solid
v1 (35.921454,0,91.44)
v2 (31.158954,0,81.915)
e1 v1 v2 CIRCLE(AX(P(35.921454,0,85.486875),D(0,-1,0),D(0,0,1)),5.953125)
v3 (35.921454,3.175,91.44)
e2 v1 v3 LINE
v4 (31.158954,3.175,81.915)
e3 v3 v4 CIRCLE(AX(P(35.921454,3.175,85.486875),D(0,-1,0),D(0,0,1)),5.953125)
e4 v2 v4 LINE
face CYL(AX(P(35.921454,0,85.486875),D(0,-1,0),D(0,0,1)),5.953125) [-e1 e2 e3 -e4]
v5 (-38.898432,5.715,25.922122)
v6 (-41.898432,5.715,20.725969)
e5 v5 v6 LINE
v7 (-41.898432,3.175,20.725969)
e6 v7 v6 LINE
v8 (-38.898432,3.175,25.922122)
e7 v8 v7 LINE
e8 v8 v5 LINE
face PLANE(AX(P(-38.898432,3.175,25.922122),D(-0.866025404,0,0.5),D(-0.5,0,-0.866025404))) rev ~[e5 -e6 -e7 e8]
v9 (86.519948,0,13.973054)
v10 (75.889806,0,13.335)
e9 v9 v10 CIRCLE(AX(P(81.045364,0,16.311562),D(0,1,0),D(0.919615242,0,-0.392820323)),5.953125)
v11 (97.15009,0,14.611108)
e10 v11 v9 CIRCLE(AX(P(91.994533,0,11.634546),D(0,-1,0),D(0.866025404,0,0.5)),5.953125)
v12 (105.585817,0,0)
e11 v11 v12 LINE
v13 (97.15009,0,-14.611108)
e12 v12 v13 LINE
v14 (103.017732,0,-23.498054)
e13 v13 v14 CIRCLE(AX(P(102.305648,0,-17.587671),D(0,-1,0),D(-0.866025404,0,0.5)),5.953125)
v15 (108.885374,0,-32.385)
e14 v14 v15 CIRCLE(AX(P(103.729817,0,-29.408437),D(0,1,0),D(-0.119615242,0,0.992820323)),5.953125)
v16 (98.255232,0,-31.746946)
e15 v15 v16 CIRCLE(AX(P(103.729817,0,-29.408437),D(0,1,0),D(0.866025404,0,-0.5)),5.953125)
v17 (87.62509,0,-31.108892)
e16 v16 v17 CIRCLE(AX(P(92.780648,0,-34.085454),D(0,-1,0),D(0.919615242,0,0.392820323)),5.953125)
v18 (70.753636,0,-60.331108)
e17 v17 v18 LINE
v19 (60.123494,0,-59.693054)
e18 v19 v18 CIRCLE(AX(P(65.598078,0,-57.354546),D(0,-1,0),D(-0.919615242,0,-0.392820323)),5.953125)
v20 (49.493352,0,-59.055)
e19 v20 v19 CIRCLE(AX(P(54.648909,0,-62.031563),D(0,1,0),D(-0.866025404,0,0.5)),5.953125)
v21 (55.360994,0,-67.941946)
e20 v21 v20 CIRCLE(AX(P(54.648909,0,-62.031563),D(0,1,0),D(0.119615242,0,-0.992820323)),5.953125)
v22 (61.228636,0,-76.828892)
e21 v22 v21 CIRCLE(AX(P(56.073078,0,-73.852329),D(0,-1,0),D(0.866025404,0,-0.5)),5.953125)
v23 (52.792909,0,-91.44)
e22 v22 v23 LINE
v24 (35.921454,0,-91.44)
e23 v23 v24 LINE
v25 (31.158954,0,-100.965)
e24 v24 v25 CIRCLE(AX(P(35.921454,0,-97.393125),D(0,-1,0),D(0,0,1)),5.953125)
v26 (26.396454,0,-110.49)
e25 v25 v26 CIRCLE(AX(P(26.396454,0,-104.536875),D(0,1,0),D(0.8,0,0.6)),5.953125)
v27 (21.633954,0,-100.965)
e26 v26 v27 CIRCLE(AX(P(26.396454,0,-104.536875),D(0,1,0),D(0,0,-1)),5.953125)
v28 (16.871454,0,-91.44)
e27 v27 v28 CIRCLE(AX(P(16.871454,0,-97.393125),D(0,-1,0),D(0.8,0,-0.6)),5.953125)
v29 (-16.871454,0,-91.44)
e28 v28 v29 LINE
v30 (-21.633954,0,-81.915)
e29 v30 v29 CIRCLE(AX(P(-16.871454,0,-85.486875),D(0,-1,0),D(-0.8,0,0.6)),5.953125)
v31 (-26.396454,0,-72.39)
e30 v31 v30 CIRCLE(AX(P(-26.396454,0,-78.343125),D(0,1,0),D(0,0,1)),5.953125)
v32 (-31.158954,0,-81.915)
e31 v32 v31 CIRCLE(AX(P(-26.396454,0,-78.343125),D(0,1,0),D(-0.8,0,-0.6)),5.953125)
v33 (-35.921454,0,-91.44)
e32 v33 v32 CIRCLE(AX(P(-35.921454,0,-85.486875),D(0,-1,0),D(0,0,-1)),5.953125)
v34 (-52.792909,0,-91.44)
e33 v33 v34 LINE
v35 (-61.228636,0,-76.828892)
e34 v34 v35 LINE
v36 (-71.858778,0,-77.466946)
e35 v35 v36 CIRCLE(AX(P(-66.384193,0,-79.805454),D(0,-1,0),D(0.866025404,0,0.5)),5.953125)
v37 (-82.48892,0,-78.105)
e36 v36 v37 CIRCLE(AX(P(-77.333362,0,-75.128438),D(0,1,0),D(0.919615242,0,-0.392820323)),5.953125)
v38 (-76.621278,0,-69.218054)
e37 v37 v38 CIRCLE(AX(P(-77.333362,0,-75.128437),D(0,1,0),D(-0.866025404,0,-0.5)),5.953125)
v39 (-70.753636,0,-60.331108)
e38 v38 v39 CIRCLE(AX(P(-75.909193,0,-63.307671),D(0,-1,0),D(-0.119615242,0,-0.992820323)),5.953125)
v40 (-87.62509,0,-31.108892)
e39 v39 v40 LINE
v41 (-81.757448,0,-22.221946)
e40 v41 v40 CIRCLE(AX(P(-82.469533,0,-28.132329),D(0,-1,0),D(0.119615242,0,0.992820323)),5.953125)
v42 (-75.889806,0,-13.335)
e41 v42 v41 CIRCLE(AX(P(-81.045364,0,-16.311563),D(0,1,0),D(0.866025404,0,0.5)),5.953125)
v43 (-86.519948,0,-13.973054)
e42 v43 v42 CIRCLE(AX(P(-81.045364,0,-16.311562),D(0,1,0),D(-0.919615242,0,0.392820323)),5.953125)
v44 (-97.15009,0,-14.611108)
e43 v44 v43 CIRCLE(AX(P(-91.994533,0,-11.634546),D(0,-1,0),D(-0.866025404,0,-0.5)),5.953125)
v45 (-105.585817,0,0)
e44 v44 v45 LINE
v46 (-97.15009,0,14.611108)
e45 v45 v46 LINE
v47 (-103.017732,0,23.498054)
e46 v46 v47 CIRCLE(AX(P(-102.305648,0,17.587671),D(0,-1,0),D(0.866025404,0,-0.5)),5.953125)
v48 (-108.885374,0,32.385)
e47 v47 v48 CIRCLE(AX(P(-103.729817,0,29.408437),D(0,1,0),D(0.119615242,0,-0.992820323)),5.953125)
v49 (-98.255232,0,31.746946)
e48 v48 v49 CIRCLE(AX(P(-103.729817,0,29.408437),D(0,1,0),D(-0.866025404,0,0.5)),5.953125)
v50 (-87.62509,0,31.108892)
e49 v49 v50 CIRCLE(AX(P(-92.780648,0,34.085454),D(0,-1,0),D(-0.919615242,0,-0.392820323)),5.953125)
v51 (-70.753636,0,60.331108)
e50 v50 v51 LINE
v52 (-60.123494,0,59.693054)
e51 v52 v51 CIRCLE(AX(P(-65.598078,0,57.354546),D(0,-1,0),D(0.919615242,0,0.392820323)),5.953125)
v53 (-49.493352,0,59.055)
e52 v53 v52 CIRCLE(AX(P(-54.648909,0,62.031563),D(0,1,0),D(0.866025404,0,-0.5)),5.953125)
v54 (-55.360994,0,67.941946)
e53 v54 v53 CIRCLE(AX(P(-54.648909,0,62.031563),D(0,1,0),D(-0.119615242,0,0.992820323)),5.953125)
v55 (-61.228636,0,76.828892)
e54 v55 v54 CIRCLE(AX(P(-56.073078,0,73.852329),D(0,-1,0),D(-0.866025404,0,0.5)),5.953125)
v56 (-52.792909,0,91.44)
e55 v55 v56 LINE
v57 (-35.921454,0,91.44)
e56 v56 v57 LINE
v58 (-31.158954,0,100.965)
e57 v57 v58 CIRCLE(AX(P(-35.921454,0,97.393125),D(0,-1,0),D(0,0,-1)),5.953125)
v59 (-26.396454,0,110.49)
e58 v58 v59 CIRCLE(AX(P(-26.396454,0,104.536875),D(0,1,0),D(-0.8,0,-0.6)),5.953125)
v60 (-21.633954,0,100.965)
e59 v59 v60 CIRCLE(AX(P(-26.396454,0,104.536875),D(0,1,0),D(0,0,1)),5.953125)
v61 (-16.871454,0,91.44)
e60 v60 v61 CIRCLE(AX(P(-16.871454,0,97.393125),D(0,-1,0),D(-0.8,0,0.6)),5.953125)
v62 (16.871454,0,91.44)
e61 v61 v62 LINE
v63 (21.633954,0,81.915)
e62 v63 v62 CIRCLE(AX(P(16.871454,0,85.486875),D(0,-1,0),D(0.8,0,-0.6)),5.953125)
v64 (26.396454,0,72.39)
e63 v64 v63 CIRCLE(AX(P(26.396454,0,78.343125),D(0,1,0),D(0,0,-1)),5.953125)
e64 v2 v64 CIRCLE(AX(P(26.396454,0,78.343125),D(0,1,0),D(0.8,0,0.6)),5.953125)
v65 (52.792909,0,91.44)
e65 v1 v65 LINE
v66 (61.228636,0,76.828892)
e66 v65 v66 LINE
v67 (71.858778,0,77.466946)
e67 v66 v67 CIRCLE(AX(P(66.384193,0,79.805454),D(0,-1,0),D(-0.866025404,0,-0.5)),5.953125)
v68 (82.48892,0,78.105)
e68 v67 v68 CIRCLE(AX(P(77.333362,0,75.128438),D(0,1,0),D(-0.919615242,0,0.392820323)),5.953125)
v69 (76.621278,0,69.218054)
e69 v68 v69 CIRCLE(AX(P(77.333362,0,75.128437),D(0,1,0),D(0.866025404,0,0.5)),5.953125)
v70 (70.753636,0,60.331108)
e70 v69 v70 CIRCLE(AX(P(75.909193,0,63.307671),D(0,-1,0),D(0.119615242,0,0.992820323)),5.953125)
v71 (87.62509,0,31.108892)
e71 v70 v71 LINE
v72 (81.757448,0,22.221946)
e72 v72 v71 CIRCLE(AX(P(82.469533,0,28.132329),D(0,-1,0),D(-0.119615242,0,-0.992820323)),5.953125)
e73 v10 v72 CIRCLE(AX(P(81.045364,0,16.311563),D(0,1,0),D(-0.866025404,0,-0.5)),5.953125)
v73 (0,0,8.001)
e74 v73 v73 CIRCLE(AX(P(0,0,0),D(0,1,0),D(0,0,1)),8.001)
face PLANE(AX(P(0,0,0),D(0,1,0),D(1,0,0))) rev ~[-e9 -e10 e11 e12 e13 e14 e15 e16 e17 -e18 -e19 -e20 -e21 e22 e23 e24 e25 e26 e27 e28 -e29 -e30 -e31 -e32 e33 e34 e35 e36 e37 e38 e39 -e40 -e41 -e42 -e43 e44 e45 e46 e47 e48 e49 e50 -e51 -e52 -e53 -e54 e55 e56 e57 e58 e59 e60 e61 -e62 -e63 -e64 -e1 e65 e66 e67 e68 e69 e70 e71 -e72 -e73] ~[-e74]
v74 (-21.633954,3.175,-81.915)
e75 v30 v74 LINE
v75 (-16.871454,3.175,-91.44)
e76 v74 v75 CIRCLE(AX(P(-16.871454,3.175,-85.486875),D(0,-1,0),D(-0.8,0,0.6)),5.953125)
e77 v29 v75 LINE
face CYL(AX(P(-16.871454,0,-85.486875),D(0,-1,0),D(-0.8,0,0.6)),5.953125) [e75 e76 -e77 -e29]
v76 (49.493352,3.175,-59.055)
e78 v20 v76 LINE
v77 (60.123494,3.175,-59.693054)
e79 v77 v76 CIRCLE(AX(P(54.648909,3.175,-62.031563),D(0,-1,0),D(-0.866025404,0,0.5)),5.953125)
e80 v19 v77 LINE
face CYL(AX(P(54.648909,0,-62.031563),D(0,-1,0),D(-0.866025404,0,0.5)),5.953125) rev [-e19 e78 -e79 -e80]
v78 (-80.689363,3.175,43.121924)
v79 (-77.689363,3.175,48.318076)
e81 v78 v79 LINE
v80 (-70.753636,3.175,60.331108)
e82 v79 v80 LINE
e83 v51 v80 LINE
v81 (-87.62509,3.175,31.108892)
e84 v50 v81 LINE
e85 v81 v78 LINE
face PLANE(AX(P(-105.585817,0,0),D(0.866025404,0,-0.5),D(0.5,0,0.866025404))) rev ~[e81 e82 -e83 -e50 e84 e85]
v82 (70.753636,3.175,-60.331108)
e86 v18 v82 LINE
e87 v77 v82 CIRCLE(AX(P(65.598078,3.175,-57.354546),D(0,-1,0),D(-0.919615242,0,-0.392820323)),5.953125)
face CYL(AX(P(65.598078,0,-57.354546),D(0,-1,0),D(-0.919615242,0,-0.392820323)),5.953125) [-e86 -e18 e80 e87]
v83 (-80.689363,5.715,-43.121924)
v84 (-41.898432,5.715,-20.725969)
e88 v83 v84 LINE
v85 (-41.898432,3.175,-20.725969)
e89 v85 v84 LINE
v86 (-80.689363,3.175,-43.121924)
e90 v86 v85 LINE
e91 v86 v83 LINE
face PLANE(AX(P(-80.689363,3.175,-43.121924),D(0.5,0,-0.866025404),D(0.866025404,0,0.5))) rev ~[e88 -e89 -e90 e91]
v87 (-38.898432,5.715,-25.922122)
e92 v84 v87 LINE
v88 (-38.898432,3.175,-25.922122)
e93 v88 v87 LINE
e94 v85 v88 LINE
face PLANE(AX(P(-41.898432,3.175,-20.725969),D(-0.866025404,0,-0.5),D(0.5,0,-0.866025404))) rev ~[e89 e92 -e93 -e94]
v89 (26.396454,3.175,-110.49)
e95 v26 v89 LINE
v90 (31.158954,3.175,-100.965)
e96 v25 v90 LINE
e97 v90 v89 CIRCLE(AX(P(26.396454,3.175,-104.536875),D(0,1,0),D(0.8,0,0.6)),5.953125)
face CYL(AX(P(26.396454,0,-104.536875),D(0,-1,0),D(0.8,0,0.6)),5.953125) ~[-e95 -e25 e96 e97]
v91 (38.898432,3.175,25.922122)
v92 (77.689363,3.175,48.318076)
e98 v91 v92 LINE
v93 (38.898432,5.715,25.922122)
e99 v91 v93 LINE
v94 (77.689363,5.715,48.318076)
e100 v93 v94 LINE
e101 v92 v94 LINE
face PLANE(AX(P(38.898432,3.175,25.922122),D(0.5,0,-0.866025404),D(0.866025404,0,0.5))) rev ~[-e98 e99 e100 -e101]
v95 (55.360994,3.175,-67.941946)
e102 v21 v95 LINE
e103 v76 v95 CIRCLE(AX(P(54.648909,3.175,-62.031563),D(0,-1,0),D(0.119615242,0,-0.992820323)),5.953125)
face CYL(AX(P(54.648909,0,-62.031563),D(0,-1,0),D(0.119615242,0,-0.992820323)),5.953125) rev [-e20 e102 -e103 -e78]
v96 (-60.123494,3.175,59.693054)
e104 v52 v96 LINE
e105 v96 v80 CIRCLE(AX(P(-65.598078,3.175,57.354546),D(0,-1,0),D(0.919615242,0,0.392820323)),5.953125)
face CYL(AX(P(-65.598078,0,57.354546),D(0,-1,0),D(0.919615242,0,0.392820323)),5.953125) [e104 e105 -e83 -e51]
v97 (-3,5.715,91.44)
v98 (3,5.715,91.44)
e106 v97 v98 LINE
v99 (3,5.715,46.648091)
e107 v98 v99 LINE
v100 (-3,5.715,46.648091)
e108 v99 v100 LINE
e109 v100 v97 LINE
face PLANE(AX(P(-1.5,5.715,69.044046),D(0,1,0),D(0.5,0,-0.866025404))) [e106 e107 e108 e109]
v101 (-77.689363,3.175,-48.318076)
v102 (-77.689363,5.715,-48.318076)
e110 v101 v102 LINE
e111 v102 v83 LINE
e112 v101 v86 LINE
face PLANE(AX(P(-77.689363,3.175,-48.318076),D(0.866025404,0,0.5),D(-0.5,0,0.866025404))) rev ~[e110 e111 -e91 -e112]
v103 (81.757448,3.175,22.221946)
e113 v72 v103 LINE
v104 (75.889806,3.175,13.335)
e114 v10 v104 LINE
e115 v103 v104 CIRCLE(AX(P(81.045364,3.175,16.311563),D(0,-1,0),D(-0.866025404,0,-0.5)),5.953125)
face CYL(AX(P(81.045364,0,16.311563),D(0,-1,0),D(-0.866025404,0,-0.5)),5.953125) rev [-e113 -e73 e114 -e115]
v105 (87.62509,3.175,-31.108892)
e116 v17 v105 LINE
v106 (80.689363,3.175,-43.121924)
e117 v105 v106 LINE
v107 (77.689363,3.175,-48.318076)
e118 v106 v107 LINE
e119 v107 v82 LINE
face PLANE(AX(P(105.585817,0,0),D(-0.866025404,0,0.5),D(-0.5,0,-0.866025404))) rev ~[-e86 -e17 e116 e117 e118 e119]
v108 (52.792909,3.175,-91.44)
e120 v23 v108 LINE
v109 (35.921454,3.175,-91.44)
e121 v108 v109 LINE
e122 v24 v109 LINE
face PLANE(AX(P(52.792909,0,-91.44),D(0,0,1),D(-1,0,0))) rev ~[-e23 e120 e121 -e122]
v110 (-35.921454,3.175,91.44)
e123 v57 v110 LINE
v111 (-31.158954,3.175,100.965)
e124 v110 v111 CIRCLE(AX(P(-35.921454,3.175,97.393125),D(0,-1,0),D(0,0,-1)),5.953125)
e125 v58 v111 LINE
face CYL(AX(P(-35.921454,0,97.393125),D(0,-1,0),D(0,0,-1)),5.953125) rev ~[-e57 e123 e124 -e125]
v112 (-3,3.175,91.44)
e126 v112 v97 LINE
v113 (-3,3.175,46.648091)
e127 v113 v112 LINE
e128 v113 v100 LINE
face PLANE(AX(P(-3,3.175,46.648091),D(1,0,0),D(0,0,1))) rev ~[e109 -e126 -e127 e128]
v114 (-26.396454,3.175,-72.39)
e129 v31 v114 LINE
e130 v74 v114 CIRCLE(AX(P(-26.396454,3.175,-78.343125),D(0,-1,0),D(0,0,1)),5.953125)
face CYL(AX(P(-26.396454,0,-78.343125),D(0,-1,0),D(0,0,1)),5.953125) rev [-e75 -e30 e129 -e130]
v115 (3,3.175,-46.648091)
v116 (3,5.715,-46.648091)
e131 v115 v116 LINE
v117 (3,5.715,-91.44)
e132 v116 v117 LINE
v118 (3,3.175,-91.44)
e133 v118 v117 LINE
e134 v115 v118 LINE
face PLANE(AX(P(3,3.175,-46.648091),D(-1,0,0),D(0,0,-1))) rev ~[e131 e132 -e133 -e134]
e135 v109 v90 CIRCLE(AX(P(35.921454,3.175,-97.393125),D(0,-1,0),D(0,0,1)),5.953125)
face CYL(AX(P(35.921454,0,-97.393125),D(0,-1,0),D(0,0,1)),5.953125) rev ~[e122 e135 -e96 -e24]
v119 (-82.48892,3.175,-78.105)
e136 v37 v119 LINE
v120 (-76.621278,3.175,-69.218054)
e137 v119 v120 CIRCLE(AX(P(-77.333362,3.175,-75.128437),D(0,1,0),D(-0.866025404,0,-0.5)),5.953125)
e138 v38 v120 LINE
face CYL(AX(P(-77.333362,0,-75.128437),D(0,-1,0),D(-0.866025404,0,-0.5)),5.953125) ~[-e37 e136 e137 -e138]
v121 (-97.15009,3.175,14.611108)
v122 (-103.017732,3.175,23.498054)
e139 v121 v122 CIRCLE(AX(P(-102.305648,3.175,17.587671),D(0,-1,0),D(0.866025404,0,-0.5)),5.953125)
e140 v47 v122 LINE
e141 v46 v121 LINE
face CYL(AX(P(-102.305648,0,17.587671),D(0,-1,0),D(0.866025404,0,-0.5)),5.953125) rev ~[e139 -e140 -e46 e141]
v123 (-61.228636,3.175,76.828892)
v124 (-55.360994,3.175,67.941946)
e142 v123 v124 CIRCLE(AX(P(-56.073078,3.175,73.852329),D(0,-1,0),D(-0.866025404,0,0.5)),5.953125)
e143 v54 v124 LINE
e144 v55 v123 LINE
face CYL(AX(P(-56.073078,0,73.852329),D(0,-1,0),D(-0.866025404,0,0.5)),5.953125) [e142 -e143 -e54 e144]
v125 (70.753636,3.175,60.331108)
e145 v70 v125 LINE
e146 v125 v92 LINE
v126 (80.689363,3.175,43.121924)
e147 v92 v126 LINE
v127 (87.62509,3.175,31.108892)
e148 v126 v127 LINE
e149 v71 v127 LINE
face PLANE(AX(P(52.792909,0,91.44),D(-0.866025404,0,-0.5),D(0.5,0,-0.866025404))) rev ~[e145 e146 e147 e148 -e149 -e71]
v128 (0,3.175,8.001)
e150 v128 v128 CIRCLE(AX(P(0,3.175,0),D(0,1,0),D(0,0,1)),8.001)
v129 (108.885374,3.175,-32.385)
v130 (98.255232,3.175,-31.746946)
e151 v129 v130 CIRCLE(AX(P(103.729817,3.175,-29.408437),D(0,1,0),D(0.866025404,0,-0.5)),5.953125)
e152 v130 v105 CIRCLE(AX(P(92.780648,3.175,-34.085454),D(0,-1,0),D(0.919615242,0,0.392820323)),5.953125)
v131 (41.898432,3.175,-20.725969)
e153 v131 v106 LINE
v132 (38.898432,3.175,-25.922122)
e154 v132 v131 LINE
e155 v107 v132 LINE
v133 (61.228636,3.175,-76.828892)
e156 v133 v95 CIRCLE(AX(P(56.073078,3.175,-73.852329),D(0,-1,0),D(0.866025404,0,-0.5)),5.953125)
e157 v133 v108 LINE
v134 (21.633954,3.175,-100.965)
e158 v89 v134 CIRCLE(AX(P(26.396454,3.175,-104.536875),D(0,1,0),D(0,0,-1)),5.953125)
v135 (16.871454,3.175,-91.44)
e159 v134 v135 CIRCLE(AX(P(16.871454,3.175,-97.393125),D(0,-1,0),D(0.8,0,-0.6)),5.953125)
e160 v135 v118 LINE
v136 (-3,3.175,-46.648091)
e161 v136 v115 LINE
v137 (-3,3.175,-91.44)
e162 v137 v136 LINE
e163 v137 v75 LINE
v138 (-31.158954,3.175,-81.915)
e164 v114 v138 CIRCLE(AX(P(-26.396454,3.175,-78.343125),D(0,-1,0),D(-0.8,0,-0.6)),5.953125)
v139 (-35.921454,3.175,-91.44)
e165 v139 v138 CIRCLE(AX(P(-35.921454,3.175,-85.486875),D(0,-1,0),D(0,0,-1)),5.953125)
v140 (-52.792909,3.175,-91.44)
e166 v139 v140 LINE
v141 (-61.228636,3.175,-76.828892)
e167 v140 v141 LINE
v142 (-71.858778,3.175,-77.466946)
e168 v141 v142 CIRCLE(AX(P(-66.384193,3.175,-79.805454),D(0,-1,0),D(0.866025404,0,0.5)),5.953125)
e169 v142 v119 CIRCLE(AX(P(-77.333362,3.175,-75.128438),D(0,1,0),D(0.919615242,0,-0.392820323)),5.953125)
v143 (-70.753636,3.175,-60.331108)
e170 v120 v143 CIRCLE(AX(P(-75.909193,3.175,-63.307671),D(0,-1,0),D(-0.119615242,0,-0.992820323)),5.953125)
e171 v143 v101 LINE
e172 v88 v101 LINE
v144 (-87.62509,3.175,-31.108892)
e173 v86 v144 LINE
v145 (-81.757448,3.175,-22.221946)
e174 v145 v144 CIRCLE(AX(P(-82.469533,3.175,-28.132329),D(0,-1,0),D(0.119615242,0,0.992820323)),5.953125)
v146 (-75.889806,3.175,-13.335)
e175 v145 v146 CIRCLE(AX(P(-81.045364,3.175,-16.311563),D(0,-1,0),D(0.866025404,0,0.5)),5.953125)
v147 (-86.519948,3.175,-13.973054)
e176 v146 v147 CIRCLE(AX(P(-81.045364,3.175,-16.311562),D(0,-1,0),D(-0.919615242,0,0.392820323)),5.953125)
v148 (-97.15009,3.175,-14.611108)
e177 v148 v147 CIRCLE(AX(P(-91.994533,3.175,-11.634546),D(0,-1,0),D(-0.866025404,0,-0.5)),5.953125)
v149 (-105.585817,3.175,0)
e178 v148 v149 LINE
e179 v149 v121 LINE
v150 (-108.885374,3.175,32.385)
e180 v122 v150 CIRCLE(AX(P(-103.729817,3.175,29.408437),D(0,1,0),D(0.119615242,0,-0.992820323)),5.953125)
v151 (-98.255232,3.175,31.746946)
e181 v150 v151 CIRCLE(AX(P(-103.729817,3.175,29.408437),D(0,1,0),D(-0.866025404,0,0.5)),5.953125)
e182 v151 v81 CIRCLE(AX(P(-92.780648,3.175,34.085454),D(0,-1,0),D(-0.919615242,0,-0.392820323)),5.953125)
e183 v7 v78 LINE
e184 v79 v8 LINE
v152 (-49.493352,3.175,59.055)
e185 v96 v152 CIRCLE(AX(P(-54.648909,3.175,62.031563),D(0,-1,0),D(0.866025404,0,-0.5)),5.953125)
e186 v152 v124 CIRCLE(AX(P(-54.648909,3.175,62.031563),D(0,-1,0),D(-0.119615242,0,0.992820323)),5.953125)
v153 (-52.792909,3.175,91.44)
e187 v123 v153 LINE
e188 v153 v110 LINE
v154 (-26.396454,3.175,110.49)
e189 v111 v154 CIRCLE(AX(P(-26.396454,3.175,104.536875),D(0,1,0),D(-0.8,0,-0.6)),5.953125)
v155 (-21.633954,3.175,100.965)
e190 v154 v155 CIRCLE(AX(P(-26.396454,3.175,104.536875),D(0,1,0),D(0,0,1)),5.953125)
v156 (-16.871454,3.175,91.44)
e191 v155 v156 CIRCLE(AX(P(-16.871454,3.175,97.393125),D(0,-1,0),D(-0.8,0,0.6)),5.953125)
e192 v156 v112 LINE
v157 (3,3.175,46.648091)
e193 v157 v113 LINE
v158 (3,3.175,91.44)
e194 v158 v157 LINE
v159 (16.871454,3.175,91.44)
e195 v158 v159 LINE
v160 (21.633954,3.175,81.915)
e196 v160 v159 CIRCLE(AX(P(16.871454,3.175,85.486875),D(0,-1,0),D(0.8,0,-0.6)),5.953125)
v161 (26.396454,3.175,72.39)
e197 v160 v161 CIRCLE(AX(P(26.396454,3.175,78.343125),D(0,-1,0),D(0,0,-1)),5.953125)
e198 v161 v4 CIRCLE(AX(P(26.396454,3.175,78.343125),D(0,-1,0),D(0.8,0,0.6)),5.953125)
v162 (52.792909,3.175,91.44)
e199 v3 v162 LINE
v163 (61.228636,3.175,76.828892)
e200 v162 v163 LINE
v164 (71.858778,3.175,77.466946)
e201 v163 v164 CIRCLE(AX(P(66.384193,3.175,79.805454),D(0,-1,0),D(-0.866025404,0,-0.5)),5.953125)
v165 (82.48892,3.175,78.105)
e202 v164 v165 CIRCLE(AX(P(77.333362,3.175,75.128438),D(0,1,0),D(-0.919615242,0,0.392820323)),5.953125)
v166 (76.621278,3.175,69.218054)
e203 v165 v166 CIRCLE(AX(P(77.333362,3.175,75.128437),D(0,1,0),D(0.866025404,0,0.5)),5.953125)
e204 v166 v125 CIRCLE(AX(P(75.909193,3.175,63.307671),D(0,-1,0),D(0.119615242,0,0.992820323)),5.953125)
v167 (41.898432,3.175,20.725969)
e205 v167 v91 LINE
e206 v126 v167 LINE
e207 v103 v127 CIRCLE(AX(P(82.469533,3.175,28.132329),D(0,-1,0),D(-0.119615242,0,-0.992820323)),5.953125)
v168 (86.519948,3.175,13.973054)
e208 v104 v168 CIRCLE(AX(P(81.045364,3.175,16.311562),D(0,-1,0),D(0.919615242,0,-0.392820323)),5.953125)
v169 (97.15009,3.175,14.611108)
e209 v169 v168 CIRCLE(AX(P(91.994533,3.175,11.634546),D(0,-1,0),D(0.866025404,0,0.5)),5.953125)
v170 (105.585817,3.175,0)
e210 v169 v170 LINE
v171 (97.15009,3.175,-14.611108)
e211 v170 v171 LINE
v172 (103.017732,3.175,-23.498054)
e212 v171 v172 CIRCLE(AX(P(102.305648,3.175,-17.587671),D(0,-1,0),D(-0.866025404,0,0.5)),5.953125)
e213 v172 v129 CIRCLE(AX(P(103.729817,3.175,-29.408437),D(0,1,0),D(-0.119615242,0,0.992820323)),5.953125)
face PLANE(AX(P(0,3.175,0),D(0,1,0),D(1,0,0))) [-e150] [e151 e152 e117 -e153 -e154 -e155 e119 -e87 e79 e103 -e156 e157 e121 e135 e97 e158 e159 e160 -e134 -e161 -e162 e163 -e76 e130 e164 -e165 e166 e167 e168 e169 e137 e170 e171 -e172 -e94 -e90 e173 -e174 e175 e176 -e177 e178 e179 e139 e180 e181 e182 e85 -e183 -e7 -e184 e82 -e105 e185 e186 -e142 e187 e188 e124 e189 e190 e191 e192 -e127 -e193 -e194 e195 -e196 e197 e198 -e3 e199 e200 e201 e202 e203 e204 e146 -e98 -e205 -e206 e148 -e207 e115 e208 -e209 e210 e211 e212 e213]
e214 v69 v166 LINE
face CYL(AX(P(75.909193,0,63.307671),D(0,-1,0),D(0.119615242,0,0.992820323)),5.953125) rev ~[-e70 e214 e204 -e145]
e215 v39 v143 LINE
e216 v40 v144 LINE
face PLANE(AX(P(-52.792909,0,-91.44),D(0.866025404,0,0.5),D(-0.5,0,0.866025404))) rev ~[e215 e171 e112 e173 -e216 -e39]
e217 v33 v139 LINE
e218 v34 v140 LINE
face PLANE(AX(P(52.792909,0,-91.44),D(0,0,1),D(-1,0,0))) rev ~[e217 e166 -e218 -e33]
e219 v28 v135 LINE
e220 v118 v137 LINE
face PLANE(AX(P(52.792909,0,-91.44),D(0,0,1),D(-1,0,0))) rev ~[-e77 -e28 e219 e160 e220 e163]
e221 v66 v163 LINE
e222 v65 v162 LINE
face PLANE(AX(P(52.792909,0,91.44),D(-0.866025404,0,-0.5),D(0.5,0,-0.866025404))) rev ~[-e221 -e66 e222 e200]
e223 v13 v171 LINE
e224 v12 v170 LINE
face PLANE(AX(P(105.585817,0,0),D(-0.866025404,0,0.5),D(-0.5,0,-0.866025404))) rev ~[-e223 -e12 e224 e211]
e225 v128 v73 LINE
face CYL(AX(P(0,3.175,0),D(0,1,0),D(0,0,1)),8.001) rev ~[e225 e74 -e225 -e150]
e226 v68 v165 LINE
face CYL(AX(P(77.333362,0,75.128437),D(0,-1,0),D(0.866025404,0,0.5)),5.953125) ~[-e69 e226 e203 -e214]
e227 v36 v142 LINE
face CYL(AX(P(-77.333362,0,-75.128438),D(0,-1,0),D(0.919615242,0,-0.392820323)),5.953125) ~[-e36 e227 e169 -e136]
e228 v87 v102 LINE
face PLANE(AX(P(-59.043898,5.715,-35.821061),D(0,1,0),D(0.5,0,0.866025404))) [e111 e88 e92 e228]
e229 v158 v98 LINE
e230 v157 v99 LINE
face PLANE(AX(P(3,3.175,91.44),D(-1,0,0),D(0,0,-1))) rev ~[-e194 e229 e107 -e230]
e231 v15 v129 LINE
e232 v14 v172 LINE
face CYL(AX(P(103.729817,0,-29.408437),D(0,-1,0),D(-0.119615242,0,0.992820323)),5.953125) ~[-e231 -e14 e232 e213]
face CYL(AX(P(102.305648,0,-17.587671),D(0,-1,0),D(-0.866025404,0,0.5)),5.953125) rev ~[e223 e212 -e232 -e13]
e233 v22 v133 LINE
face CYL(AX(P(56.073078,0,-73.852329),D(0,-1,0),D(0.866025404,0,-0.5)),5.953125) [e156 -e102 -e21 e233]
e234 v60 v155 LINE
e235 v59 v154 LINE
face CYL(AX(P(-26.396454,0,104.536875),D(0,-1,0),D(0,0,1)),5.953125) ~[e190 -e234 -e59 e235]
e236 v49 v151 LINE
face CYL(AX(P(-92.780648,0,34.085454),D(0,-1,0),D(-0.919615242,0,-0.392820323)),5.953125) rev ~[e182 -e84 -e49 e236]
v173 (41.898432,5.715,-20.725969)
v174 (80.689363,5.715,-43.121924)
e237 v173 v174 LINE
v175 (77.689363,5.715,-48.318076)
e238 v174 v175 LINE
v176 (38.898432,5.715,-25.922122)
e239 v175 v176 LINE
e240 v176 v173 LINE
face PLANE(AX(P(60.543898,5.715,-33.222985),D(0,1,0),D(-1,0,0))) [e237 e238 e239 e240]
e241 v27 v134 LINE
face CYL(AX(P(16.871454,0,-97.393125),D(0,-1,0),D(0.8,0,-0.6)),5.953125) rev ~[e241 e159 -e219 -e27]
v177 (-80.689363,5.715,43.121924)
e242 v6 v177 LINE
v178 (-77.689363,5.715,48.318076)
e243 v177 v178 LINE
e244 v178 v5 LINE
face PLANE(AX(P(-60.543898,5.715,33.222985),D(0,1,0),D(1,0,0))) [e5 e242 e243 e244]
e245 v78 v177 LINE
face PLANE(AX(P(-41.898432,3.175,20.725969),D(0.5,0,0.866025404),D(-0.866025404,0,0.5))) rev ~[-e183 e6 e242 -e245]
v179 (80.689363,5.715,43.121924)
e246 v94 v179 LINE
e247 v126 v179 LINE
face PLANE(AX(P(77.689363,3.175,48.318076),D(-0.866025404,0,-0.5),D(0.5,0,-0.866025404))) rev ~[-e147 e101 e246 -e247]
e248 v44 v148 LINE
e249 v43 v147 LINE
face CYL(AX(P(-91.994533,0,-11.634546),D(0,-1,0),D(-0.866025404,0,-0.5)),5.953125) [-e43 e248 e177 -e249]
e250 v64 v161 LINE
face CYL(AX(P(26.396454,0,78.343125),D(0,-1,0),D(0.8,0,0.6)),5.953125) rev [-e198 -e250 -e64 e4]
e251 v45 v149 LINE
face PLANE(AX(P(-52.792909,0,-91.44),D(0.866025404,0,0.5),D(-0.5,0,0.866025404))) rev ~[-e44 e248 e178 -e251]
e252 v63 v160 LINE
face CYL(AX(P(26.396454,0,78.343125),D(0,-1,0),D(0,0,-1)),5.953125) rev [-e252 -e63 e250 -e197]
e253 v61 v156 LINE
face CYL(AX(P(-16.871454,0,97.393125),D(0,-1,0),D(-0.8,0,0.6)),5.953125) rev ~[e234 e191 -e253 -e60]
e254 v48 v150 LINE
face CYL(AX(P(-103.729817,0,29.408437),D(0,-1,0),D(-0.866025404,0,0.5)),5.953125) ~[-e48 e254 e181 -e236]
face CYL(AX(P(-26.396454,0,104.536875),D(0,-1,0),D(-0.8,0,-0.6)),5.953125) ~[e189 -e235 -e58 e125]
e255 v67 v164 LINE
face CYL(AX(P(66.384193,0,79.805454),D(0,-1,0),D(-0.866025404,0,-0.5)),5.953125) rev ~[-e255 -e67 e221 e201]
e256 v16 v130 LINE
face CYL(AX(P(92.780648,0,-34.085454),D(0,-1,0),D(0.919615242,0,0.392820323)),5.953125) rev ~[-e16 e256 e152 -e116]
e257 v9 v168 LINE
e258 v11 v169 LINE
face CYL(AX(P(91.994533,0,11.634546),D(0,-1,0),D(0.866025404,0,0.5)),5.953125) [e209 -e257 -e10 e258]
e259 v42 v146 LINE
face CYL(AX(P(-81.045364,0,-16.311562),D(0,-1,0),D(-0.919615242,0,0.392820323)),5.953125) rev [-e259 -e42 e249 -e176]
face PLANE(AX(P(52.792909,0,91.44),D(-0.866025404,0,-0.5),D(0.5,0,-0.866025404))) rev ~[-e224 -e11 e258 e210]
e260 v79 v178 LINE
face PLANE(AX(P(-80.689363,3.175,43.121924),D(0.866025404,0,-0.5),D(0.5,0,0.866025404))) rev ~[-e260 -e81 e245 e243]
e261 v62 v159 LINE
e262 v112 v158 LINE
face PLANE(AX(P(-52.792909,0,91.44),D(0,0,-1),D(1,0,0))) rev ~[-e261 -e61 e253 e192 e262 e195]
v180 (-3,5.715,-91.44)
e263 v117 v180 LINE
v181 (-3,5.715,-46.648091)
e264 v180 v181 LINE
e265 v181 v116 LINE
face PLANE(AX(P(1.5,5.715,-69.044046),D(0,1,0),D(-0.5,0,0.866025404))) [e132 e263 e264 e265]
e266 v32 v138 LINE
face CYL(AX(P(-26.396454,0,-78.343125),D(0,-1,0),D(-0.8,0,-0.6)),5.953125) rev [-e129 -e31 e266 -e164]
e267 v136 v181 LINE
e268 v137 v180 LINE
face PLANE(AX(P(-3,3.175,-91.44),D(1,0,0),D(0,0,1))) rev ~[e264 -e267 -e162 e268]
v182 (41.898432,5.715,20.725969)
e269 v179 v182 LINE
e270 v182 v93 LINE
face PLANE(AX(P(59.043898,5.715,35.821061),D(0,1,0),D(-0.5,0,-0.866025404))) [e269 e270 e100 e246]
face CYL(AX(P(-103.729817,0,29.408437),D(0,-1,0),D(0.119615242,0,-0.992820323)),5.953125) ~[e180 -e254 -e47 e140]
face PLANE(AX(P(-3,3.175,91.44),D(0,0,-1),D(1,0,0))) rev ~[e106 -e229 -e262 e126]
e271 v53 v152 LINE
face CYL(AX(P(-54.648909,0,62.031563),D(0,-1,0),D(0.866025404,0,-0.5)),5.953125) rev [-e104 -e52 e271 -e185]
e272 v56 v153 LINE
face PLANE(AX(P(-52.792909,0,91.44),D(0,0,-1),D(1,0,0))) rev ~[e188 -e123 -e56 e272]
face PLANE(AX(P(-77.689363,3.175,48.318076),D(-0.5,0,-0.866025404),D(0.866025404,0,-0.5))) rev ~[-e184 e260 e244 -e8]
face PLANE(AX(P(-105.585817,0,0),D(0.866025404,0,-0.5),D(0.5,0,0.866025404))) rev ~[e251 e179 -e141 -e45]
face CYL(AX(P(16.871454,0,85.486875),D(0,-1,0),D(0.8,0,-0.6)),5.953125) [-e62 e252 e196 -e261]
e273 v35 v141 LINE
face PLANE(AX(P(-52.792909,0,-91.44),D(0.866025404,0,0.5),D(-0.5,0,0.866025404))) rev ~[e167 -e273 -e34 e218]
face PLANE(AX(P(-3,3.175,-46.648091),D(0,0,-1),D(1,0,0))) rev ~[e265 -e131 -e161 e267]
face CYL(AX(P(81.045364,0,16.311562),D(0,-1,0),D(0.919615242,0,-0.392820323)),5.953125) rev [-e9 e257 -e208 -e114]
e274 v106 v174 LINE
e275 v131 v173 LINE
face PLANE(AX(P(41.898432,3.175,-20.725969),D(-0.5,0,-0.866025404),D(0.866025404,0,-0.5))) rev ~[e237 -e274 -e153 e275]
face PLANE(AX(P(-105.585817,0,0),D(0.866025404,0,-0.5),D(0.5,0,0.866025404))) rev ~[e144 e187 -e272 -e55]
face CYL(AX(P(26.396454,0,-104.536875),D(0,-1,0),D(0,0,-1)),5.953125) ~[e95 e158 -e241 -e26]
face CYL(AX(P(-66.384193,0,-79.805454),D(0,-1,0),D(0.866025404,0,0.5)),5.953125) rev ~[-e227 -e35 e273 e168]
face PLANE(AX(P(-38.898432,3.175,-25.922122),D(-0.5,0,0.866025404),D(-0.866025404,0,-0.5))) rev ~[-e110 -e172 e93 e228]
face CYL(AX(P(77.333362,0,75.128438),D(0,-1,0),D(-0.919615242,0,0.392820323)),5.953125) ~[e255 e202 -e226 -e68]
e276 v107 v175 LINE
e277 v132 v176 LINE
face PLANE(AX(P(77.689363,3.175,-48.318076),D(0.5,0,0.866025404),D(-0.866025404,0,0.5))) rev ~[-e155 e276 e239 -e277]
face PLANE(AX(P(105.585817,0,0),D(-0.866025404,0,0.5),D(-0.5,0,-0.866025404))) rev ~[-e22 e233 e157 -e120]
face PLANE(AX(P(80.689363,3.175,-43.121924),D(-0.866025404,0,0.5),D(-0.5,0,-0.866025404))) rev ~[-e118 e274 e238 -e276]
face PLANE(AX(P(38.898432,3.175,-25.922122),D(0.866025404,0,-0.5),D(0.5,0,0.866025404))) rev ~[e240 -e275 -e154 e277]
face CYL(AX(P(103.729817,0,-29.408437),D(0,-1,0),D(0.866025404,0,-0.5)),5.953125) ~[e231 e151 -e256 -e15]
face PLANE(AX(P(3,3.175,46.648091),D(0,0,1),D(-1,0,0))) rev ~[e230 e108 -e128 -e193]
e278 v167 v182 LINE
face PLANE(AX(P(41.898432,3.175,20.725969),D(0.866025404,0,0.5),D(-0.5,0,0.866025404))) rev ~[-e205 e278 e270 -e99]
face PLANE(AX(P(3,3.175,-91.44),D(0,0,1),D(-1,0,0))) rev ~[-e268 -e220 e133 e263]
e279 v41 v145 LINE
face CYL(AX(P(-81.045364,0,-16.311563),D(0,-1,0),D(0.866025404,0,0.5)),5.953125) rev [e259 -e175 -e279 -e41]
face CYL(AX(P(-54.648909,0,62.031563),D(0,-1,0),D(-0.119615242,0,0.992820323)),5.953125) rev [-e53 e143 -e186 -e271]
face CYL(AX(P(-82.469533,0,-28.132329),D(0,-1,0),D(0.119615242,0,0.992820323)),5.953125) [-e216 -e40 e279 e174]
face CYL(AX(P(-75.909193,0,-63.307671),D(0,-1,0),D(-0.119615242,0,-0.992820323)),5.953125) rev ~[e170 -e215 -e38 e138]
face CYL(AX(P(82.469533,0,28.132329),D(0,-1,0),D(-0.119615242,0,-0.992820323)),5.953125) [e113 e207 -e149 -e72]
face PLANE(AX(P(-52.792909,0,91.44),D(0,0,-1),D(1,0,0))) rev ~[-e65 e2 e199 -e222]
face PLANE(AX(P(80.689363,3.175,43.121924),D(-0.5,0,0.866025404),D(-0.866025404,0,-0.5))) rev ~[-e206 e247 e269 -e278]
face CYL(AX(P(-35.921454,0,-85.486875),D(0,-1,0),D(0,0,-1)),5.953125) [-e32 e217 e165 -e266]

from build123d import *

# Parameters (mm, degrees)
BOSS_EXTRUDE1_DEPTH = 3.175
BOSS_EXTRUDE2_DEPTH = 3.175
CUT_EXTRUDE2_DEPTH  = 153.861000667
CIRPATTERN1_COUNT   = 6
SKETCH4_R           = 8.001
CUT_EXTRUDE3_DEPTH  = 3.175
BOSS_EXTRUDE3_DEPTH = 2.54
CIRPATTERN2_COUNT   = 6


with BuildPart() as part:
    # Sketch1 → Boss-Extrude1 (new body)
    with BuildSketch(Plane(origin=(0, 0, 0), x_dir=(1, 0, 0), z_dir=(0, 1, 0))):
        Polygon((52.792908615, -91.44), (105.585817229, 0), (52.792908615, 91.44), (-52.792908615, 91.44), (-105.585817229, 0), (-52.792908615, -91.44), align=None)
    extrude(amount=BOSS_EXTRUDE1_DEPTH)

    # Sketch2 → Boss-Extrude2 (add)
    with BuildSketch(Plane(origin=(0, 0, 0), x_dir=(1, 0, 0), z_dir=(0, 1, 0))):
        with BuildLine():
            ThreePointArc((21.633954307, 100.965), (22.196091179, 94.730806564), (16.871454307, 91.44))
            Line((16.871454307, 91.44), (35.921454307, 91.44))
            ThreePointArc((35.921454307, 91.44), (30.596817436, 94.730806564), (31.158954307, 100.965))
            ThreePointArc((31.158954307, 100.965), (31.721091179, 107.199193436), (26.396454307, 110.49))
            ThreePointArc((26.396454307, 110.49), (21.071817436, 107.199193436), (21.633954307, 100.965))
        make_face()
    boss_extrude2 = extrude(amount=BOSS_EXTRUDE2_DEPTH)

    # Sketch2<3> → Cut-Extrude2 (cut, through all)
    with BuildSketch(Plane(origin=(0, 0, 0), x_dir=(1, 0, 0), z_dir=(0, 1, 0))):
        with BuildLine():
            Line((-16.871454307, 91.44), (-35.921454307, 91.44))
            ThreePointArc((-35.921454307, 91.44), (-30.596817436, 88.149193436), (-31.158954307, 81.915))
            ThreePointArc((-31.158954307, 81.915), (-31.721091179, 75.680806564), (-26.396454307, 72.39))
            ThreePointArc((-26.396454307, 72.39), (-21.071817436, 75.680806564), (-21.633954307, 81.915))
            ThreePointArc((-21.633954307, 81.915), (-22.196091179, 88.149193436), (-16.871454307, 91.44))
        make_face()
    cut_extrude2 = extrude(amount=CUT_EXTRUDE2_DEPTH, mode=Mode.SUBTRACT)

    # CirPattern1: Boss-Extrude2, Cut-Extrude2 ×6 about axis
    cirpattern1_axis = Axis((0, 0, 0), (0, 1, 0))
    add([boss_extrude2.rotate(cirpattern1_axis, i * 360 / CIRPATTERN1_COUNT) for i in range(1, CIRPATTERN1_COUNT)])
    add([cut_extrude2.rotate(cirpattern1_axis, i * 360 / CIRPATTERN1_COUNT) for i in range(1, CIRPATTERN1_COUNT)], mode=Mode.SUBTRACT)

    # Sketch4 → Cut-Extrude3 (cut)
    with BuildSketch(Plane(origin=(0, 3.175, 0), x_dir=(1, 0, 0), z_dir=(0, 1, 0))):
        with Locations(Location((0, 0, 0), (0, 0, 270))):
            Circle(SKETCH4_R)
    extrude(amount=-CUT_EXTRUDE3_DEPTH, mode=Mode.SUBTRACT)

    # Sketch5 → Boss-Extrude3 (add)
    with BuildSketch(Plane(origin=(0, 3.175, 0), x_dir=(1, 0, 0), z_dir=(0, 1, 0))):
        Polygon((-41.898432158, -20.72596947), (-80.689362922, -43.121923789), (-79.189362922, -45.72), (-40.398432158, -23.324045681), align=None)
        Polygon((-40.398432158, -23.324045681), (-79.189362922, -45.72), (-77.689362922, -48.318076211), (-38.898432158, -25.922121892), align=None)
    boss_extrude3 = extrude(amount=BOSS_EXTRUDE3_DEPTH)

    # CirPattern2: Boss-Extrude3 ×6 about axis
    cirpattern2_axis = Axis((0, 0, 0), (0, 1, 0))
    for i in range(1, CIRPATTERN2_COUNT):
        add(boss_extrude3.rotate(cirpattern2_axis, i * 360 / CIRPATTERN2_COUNT))


solid = part.part
